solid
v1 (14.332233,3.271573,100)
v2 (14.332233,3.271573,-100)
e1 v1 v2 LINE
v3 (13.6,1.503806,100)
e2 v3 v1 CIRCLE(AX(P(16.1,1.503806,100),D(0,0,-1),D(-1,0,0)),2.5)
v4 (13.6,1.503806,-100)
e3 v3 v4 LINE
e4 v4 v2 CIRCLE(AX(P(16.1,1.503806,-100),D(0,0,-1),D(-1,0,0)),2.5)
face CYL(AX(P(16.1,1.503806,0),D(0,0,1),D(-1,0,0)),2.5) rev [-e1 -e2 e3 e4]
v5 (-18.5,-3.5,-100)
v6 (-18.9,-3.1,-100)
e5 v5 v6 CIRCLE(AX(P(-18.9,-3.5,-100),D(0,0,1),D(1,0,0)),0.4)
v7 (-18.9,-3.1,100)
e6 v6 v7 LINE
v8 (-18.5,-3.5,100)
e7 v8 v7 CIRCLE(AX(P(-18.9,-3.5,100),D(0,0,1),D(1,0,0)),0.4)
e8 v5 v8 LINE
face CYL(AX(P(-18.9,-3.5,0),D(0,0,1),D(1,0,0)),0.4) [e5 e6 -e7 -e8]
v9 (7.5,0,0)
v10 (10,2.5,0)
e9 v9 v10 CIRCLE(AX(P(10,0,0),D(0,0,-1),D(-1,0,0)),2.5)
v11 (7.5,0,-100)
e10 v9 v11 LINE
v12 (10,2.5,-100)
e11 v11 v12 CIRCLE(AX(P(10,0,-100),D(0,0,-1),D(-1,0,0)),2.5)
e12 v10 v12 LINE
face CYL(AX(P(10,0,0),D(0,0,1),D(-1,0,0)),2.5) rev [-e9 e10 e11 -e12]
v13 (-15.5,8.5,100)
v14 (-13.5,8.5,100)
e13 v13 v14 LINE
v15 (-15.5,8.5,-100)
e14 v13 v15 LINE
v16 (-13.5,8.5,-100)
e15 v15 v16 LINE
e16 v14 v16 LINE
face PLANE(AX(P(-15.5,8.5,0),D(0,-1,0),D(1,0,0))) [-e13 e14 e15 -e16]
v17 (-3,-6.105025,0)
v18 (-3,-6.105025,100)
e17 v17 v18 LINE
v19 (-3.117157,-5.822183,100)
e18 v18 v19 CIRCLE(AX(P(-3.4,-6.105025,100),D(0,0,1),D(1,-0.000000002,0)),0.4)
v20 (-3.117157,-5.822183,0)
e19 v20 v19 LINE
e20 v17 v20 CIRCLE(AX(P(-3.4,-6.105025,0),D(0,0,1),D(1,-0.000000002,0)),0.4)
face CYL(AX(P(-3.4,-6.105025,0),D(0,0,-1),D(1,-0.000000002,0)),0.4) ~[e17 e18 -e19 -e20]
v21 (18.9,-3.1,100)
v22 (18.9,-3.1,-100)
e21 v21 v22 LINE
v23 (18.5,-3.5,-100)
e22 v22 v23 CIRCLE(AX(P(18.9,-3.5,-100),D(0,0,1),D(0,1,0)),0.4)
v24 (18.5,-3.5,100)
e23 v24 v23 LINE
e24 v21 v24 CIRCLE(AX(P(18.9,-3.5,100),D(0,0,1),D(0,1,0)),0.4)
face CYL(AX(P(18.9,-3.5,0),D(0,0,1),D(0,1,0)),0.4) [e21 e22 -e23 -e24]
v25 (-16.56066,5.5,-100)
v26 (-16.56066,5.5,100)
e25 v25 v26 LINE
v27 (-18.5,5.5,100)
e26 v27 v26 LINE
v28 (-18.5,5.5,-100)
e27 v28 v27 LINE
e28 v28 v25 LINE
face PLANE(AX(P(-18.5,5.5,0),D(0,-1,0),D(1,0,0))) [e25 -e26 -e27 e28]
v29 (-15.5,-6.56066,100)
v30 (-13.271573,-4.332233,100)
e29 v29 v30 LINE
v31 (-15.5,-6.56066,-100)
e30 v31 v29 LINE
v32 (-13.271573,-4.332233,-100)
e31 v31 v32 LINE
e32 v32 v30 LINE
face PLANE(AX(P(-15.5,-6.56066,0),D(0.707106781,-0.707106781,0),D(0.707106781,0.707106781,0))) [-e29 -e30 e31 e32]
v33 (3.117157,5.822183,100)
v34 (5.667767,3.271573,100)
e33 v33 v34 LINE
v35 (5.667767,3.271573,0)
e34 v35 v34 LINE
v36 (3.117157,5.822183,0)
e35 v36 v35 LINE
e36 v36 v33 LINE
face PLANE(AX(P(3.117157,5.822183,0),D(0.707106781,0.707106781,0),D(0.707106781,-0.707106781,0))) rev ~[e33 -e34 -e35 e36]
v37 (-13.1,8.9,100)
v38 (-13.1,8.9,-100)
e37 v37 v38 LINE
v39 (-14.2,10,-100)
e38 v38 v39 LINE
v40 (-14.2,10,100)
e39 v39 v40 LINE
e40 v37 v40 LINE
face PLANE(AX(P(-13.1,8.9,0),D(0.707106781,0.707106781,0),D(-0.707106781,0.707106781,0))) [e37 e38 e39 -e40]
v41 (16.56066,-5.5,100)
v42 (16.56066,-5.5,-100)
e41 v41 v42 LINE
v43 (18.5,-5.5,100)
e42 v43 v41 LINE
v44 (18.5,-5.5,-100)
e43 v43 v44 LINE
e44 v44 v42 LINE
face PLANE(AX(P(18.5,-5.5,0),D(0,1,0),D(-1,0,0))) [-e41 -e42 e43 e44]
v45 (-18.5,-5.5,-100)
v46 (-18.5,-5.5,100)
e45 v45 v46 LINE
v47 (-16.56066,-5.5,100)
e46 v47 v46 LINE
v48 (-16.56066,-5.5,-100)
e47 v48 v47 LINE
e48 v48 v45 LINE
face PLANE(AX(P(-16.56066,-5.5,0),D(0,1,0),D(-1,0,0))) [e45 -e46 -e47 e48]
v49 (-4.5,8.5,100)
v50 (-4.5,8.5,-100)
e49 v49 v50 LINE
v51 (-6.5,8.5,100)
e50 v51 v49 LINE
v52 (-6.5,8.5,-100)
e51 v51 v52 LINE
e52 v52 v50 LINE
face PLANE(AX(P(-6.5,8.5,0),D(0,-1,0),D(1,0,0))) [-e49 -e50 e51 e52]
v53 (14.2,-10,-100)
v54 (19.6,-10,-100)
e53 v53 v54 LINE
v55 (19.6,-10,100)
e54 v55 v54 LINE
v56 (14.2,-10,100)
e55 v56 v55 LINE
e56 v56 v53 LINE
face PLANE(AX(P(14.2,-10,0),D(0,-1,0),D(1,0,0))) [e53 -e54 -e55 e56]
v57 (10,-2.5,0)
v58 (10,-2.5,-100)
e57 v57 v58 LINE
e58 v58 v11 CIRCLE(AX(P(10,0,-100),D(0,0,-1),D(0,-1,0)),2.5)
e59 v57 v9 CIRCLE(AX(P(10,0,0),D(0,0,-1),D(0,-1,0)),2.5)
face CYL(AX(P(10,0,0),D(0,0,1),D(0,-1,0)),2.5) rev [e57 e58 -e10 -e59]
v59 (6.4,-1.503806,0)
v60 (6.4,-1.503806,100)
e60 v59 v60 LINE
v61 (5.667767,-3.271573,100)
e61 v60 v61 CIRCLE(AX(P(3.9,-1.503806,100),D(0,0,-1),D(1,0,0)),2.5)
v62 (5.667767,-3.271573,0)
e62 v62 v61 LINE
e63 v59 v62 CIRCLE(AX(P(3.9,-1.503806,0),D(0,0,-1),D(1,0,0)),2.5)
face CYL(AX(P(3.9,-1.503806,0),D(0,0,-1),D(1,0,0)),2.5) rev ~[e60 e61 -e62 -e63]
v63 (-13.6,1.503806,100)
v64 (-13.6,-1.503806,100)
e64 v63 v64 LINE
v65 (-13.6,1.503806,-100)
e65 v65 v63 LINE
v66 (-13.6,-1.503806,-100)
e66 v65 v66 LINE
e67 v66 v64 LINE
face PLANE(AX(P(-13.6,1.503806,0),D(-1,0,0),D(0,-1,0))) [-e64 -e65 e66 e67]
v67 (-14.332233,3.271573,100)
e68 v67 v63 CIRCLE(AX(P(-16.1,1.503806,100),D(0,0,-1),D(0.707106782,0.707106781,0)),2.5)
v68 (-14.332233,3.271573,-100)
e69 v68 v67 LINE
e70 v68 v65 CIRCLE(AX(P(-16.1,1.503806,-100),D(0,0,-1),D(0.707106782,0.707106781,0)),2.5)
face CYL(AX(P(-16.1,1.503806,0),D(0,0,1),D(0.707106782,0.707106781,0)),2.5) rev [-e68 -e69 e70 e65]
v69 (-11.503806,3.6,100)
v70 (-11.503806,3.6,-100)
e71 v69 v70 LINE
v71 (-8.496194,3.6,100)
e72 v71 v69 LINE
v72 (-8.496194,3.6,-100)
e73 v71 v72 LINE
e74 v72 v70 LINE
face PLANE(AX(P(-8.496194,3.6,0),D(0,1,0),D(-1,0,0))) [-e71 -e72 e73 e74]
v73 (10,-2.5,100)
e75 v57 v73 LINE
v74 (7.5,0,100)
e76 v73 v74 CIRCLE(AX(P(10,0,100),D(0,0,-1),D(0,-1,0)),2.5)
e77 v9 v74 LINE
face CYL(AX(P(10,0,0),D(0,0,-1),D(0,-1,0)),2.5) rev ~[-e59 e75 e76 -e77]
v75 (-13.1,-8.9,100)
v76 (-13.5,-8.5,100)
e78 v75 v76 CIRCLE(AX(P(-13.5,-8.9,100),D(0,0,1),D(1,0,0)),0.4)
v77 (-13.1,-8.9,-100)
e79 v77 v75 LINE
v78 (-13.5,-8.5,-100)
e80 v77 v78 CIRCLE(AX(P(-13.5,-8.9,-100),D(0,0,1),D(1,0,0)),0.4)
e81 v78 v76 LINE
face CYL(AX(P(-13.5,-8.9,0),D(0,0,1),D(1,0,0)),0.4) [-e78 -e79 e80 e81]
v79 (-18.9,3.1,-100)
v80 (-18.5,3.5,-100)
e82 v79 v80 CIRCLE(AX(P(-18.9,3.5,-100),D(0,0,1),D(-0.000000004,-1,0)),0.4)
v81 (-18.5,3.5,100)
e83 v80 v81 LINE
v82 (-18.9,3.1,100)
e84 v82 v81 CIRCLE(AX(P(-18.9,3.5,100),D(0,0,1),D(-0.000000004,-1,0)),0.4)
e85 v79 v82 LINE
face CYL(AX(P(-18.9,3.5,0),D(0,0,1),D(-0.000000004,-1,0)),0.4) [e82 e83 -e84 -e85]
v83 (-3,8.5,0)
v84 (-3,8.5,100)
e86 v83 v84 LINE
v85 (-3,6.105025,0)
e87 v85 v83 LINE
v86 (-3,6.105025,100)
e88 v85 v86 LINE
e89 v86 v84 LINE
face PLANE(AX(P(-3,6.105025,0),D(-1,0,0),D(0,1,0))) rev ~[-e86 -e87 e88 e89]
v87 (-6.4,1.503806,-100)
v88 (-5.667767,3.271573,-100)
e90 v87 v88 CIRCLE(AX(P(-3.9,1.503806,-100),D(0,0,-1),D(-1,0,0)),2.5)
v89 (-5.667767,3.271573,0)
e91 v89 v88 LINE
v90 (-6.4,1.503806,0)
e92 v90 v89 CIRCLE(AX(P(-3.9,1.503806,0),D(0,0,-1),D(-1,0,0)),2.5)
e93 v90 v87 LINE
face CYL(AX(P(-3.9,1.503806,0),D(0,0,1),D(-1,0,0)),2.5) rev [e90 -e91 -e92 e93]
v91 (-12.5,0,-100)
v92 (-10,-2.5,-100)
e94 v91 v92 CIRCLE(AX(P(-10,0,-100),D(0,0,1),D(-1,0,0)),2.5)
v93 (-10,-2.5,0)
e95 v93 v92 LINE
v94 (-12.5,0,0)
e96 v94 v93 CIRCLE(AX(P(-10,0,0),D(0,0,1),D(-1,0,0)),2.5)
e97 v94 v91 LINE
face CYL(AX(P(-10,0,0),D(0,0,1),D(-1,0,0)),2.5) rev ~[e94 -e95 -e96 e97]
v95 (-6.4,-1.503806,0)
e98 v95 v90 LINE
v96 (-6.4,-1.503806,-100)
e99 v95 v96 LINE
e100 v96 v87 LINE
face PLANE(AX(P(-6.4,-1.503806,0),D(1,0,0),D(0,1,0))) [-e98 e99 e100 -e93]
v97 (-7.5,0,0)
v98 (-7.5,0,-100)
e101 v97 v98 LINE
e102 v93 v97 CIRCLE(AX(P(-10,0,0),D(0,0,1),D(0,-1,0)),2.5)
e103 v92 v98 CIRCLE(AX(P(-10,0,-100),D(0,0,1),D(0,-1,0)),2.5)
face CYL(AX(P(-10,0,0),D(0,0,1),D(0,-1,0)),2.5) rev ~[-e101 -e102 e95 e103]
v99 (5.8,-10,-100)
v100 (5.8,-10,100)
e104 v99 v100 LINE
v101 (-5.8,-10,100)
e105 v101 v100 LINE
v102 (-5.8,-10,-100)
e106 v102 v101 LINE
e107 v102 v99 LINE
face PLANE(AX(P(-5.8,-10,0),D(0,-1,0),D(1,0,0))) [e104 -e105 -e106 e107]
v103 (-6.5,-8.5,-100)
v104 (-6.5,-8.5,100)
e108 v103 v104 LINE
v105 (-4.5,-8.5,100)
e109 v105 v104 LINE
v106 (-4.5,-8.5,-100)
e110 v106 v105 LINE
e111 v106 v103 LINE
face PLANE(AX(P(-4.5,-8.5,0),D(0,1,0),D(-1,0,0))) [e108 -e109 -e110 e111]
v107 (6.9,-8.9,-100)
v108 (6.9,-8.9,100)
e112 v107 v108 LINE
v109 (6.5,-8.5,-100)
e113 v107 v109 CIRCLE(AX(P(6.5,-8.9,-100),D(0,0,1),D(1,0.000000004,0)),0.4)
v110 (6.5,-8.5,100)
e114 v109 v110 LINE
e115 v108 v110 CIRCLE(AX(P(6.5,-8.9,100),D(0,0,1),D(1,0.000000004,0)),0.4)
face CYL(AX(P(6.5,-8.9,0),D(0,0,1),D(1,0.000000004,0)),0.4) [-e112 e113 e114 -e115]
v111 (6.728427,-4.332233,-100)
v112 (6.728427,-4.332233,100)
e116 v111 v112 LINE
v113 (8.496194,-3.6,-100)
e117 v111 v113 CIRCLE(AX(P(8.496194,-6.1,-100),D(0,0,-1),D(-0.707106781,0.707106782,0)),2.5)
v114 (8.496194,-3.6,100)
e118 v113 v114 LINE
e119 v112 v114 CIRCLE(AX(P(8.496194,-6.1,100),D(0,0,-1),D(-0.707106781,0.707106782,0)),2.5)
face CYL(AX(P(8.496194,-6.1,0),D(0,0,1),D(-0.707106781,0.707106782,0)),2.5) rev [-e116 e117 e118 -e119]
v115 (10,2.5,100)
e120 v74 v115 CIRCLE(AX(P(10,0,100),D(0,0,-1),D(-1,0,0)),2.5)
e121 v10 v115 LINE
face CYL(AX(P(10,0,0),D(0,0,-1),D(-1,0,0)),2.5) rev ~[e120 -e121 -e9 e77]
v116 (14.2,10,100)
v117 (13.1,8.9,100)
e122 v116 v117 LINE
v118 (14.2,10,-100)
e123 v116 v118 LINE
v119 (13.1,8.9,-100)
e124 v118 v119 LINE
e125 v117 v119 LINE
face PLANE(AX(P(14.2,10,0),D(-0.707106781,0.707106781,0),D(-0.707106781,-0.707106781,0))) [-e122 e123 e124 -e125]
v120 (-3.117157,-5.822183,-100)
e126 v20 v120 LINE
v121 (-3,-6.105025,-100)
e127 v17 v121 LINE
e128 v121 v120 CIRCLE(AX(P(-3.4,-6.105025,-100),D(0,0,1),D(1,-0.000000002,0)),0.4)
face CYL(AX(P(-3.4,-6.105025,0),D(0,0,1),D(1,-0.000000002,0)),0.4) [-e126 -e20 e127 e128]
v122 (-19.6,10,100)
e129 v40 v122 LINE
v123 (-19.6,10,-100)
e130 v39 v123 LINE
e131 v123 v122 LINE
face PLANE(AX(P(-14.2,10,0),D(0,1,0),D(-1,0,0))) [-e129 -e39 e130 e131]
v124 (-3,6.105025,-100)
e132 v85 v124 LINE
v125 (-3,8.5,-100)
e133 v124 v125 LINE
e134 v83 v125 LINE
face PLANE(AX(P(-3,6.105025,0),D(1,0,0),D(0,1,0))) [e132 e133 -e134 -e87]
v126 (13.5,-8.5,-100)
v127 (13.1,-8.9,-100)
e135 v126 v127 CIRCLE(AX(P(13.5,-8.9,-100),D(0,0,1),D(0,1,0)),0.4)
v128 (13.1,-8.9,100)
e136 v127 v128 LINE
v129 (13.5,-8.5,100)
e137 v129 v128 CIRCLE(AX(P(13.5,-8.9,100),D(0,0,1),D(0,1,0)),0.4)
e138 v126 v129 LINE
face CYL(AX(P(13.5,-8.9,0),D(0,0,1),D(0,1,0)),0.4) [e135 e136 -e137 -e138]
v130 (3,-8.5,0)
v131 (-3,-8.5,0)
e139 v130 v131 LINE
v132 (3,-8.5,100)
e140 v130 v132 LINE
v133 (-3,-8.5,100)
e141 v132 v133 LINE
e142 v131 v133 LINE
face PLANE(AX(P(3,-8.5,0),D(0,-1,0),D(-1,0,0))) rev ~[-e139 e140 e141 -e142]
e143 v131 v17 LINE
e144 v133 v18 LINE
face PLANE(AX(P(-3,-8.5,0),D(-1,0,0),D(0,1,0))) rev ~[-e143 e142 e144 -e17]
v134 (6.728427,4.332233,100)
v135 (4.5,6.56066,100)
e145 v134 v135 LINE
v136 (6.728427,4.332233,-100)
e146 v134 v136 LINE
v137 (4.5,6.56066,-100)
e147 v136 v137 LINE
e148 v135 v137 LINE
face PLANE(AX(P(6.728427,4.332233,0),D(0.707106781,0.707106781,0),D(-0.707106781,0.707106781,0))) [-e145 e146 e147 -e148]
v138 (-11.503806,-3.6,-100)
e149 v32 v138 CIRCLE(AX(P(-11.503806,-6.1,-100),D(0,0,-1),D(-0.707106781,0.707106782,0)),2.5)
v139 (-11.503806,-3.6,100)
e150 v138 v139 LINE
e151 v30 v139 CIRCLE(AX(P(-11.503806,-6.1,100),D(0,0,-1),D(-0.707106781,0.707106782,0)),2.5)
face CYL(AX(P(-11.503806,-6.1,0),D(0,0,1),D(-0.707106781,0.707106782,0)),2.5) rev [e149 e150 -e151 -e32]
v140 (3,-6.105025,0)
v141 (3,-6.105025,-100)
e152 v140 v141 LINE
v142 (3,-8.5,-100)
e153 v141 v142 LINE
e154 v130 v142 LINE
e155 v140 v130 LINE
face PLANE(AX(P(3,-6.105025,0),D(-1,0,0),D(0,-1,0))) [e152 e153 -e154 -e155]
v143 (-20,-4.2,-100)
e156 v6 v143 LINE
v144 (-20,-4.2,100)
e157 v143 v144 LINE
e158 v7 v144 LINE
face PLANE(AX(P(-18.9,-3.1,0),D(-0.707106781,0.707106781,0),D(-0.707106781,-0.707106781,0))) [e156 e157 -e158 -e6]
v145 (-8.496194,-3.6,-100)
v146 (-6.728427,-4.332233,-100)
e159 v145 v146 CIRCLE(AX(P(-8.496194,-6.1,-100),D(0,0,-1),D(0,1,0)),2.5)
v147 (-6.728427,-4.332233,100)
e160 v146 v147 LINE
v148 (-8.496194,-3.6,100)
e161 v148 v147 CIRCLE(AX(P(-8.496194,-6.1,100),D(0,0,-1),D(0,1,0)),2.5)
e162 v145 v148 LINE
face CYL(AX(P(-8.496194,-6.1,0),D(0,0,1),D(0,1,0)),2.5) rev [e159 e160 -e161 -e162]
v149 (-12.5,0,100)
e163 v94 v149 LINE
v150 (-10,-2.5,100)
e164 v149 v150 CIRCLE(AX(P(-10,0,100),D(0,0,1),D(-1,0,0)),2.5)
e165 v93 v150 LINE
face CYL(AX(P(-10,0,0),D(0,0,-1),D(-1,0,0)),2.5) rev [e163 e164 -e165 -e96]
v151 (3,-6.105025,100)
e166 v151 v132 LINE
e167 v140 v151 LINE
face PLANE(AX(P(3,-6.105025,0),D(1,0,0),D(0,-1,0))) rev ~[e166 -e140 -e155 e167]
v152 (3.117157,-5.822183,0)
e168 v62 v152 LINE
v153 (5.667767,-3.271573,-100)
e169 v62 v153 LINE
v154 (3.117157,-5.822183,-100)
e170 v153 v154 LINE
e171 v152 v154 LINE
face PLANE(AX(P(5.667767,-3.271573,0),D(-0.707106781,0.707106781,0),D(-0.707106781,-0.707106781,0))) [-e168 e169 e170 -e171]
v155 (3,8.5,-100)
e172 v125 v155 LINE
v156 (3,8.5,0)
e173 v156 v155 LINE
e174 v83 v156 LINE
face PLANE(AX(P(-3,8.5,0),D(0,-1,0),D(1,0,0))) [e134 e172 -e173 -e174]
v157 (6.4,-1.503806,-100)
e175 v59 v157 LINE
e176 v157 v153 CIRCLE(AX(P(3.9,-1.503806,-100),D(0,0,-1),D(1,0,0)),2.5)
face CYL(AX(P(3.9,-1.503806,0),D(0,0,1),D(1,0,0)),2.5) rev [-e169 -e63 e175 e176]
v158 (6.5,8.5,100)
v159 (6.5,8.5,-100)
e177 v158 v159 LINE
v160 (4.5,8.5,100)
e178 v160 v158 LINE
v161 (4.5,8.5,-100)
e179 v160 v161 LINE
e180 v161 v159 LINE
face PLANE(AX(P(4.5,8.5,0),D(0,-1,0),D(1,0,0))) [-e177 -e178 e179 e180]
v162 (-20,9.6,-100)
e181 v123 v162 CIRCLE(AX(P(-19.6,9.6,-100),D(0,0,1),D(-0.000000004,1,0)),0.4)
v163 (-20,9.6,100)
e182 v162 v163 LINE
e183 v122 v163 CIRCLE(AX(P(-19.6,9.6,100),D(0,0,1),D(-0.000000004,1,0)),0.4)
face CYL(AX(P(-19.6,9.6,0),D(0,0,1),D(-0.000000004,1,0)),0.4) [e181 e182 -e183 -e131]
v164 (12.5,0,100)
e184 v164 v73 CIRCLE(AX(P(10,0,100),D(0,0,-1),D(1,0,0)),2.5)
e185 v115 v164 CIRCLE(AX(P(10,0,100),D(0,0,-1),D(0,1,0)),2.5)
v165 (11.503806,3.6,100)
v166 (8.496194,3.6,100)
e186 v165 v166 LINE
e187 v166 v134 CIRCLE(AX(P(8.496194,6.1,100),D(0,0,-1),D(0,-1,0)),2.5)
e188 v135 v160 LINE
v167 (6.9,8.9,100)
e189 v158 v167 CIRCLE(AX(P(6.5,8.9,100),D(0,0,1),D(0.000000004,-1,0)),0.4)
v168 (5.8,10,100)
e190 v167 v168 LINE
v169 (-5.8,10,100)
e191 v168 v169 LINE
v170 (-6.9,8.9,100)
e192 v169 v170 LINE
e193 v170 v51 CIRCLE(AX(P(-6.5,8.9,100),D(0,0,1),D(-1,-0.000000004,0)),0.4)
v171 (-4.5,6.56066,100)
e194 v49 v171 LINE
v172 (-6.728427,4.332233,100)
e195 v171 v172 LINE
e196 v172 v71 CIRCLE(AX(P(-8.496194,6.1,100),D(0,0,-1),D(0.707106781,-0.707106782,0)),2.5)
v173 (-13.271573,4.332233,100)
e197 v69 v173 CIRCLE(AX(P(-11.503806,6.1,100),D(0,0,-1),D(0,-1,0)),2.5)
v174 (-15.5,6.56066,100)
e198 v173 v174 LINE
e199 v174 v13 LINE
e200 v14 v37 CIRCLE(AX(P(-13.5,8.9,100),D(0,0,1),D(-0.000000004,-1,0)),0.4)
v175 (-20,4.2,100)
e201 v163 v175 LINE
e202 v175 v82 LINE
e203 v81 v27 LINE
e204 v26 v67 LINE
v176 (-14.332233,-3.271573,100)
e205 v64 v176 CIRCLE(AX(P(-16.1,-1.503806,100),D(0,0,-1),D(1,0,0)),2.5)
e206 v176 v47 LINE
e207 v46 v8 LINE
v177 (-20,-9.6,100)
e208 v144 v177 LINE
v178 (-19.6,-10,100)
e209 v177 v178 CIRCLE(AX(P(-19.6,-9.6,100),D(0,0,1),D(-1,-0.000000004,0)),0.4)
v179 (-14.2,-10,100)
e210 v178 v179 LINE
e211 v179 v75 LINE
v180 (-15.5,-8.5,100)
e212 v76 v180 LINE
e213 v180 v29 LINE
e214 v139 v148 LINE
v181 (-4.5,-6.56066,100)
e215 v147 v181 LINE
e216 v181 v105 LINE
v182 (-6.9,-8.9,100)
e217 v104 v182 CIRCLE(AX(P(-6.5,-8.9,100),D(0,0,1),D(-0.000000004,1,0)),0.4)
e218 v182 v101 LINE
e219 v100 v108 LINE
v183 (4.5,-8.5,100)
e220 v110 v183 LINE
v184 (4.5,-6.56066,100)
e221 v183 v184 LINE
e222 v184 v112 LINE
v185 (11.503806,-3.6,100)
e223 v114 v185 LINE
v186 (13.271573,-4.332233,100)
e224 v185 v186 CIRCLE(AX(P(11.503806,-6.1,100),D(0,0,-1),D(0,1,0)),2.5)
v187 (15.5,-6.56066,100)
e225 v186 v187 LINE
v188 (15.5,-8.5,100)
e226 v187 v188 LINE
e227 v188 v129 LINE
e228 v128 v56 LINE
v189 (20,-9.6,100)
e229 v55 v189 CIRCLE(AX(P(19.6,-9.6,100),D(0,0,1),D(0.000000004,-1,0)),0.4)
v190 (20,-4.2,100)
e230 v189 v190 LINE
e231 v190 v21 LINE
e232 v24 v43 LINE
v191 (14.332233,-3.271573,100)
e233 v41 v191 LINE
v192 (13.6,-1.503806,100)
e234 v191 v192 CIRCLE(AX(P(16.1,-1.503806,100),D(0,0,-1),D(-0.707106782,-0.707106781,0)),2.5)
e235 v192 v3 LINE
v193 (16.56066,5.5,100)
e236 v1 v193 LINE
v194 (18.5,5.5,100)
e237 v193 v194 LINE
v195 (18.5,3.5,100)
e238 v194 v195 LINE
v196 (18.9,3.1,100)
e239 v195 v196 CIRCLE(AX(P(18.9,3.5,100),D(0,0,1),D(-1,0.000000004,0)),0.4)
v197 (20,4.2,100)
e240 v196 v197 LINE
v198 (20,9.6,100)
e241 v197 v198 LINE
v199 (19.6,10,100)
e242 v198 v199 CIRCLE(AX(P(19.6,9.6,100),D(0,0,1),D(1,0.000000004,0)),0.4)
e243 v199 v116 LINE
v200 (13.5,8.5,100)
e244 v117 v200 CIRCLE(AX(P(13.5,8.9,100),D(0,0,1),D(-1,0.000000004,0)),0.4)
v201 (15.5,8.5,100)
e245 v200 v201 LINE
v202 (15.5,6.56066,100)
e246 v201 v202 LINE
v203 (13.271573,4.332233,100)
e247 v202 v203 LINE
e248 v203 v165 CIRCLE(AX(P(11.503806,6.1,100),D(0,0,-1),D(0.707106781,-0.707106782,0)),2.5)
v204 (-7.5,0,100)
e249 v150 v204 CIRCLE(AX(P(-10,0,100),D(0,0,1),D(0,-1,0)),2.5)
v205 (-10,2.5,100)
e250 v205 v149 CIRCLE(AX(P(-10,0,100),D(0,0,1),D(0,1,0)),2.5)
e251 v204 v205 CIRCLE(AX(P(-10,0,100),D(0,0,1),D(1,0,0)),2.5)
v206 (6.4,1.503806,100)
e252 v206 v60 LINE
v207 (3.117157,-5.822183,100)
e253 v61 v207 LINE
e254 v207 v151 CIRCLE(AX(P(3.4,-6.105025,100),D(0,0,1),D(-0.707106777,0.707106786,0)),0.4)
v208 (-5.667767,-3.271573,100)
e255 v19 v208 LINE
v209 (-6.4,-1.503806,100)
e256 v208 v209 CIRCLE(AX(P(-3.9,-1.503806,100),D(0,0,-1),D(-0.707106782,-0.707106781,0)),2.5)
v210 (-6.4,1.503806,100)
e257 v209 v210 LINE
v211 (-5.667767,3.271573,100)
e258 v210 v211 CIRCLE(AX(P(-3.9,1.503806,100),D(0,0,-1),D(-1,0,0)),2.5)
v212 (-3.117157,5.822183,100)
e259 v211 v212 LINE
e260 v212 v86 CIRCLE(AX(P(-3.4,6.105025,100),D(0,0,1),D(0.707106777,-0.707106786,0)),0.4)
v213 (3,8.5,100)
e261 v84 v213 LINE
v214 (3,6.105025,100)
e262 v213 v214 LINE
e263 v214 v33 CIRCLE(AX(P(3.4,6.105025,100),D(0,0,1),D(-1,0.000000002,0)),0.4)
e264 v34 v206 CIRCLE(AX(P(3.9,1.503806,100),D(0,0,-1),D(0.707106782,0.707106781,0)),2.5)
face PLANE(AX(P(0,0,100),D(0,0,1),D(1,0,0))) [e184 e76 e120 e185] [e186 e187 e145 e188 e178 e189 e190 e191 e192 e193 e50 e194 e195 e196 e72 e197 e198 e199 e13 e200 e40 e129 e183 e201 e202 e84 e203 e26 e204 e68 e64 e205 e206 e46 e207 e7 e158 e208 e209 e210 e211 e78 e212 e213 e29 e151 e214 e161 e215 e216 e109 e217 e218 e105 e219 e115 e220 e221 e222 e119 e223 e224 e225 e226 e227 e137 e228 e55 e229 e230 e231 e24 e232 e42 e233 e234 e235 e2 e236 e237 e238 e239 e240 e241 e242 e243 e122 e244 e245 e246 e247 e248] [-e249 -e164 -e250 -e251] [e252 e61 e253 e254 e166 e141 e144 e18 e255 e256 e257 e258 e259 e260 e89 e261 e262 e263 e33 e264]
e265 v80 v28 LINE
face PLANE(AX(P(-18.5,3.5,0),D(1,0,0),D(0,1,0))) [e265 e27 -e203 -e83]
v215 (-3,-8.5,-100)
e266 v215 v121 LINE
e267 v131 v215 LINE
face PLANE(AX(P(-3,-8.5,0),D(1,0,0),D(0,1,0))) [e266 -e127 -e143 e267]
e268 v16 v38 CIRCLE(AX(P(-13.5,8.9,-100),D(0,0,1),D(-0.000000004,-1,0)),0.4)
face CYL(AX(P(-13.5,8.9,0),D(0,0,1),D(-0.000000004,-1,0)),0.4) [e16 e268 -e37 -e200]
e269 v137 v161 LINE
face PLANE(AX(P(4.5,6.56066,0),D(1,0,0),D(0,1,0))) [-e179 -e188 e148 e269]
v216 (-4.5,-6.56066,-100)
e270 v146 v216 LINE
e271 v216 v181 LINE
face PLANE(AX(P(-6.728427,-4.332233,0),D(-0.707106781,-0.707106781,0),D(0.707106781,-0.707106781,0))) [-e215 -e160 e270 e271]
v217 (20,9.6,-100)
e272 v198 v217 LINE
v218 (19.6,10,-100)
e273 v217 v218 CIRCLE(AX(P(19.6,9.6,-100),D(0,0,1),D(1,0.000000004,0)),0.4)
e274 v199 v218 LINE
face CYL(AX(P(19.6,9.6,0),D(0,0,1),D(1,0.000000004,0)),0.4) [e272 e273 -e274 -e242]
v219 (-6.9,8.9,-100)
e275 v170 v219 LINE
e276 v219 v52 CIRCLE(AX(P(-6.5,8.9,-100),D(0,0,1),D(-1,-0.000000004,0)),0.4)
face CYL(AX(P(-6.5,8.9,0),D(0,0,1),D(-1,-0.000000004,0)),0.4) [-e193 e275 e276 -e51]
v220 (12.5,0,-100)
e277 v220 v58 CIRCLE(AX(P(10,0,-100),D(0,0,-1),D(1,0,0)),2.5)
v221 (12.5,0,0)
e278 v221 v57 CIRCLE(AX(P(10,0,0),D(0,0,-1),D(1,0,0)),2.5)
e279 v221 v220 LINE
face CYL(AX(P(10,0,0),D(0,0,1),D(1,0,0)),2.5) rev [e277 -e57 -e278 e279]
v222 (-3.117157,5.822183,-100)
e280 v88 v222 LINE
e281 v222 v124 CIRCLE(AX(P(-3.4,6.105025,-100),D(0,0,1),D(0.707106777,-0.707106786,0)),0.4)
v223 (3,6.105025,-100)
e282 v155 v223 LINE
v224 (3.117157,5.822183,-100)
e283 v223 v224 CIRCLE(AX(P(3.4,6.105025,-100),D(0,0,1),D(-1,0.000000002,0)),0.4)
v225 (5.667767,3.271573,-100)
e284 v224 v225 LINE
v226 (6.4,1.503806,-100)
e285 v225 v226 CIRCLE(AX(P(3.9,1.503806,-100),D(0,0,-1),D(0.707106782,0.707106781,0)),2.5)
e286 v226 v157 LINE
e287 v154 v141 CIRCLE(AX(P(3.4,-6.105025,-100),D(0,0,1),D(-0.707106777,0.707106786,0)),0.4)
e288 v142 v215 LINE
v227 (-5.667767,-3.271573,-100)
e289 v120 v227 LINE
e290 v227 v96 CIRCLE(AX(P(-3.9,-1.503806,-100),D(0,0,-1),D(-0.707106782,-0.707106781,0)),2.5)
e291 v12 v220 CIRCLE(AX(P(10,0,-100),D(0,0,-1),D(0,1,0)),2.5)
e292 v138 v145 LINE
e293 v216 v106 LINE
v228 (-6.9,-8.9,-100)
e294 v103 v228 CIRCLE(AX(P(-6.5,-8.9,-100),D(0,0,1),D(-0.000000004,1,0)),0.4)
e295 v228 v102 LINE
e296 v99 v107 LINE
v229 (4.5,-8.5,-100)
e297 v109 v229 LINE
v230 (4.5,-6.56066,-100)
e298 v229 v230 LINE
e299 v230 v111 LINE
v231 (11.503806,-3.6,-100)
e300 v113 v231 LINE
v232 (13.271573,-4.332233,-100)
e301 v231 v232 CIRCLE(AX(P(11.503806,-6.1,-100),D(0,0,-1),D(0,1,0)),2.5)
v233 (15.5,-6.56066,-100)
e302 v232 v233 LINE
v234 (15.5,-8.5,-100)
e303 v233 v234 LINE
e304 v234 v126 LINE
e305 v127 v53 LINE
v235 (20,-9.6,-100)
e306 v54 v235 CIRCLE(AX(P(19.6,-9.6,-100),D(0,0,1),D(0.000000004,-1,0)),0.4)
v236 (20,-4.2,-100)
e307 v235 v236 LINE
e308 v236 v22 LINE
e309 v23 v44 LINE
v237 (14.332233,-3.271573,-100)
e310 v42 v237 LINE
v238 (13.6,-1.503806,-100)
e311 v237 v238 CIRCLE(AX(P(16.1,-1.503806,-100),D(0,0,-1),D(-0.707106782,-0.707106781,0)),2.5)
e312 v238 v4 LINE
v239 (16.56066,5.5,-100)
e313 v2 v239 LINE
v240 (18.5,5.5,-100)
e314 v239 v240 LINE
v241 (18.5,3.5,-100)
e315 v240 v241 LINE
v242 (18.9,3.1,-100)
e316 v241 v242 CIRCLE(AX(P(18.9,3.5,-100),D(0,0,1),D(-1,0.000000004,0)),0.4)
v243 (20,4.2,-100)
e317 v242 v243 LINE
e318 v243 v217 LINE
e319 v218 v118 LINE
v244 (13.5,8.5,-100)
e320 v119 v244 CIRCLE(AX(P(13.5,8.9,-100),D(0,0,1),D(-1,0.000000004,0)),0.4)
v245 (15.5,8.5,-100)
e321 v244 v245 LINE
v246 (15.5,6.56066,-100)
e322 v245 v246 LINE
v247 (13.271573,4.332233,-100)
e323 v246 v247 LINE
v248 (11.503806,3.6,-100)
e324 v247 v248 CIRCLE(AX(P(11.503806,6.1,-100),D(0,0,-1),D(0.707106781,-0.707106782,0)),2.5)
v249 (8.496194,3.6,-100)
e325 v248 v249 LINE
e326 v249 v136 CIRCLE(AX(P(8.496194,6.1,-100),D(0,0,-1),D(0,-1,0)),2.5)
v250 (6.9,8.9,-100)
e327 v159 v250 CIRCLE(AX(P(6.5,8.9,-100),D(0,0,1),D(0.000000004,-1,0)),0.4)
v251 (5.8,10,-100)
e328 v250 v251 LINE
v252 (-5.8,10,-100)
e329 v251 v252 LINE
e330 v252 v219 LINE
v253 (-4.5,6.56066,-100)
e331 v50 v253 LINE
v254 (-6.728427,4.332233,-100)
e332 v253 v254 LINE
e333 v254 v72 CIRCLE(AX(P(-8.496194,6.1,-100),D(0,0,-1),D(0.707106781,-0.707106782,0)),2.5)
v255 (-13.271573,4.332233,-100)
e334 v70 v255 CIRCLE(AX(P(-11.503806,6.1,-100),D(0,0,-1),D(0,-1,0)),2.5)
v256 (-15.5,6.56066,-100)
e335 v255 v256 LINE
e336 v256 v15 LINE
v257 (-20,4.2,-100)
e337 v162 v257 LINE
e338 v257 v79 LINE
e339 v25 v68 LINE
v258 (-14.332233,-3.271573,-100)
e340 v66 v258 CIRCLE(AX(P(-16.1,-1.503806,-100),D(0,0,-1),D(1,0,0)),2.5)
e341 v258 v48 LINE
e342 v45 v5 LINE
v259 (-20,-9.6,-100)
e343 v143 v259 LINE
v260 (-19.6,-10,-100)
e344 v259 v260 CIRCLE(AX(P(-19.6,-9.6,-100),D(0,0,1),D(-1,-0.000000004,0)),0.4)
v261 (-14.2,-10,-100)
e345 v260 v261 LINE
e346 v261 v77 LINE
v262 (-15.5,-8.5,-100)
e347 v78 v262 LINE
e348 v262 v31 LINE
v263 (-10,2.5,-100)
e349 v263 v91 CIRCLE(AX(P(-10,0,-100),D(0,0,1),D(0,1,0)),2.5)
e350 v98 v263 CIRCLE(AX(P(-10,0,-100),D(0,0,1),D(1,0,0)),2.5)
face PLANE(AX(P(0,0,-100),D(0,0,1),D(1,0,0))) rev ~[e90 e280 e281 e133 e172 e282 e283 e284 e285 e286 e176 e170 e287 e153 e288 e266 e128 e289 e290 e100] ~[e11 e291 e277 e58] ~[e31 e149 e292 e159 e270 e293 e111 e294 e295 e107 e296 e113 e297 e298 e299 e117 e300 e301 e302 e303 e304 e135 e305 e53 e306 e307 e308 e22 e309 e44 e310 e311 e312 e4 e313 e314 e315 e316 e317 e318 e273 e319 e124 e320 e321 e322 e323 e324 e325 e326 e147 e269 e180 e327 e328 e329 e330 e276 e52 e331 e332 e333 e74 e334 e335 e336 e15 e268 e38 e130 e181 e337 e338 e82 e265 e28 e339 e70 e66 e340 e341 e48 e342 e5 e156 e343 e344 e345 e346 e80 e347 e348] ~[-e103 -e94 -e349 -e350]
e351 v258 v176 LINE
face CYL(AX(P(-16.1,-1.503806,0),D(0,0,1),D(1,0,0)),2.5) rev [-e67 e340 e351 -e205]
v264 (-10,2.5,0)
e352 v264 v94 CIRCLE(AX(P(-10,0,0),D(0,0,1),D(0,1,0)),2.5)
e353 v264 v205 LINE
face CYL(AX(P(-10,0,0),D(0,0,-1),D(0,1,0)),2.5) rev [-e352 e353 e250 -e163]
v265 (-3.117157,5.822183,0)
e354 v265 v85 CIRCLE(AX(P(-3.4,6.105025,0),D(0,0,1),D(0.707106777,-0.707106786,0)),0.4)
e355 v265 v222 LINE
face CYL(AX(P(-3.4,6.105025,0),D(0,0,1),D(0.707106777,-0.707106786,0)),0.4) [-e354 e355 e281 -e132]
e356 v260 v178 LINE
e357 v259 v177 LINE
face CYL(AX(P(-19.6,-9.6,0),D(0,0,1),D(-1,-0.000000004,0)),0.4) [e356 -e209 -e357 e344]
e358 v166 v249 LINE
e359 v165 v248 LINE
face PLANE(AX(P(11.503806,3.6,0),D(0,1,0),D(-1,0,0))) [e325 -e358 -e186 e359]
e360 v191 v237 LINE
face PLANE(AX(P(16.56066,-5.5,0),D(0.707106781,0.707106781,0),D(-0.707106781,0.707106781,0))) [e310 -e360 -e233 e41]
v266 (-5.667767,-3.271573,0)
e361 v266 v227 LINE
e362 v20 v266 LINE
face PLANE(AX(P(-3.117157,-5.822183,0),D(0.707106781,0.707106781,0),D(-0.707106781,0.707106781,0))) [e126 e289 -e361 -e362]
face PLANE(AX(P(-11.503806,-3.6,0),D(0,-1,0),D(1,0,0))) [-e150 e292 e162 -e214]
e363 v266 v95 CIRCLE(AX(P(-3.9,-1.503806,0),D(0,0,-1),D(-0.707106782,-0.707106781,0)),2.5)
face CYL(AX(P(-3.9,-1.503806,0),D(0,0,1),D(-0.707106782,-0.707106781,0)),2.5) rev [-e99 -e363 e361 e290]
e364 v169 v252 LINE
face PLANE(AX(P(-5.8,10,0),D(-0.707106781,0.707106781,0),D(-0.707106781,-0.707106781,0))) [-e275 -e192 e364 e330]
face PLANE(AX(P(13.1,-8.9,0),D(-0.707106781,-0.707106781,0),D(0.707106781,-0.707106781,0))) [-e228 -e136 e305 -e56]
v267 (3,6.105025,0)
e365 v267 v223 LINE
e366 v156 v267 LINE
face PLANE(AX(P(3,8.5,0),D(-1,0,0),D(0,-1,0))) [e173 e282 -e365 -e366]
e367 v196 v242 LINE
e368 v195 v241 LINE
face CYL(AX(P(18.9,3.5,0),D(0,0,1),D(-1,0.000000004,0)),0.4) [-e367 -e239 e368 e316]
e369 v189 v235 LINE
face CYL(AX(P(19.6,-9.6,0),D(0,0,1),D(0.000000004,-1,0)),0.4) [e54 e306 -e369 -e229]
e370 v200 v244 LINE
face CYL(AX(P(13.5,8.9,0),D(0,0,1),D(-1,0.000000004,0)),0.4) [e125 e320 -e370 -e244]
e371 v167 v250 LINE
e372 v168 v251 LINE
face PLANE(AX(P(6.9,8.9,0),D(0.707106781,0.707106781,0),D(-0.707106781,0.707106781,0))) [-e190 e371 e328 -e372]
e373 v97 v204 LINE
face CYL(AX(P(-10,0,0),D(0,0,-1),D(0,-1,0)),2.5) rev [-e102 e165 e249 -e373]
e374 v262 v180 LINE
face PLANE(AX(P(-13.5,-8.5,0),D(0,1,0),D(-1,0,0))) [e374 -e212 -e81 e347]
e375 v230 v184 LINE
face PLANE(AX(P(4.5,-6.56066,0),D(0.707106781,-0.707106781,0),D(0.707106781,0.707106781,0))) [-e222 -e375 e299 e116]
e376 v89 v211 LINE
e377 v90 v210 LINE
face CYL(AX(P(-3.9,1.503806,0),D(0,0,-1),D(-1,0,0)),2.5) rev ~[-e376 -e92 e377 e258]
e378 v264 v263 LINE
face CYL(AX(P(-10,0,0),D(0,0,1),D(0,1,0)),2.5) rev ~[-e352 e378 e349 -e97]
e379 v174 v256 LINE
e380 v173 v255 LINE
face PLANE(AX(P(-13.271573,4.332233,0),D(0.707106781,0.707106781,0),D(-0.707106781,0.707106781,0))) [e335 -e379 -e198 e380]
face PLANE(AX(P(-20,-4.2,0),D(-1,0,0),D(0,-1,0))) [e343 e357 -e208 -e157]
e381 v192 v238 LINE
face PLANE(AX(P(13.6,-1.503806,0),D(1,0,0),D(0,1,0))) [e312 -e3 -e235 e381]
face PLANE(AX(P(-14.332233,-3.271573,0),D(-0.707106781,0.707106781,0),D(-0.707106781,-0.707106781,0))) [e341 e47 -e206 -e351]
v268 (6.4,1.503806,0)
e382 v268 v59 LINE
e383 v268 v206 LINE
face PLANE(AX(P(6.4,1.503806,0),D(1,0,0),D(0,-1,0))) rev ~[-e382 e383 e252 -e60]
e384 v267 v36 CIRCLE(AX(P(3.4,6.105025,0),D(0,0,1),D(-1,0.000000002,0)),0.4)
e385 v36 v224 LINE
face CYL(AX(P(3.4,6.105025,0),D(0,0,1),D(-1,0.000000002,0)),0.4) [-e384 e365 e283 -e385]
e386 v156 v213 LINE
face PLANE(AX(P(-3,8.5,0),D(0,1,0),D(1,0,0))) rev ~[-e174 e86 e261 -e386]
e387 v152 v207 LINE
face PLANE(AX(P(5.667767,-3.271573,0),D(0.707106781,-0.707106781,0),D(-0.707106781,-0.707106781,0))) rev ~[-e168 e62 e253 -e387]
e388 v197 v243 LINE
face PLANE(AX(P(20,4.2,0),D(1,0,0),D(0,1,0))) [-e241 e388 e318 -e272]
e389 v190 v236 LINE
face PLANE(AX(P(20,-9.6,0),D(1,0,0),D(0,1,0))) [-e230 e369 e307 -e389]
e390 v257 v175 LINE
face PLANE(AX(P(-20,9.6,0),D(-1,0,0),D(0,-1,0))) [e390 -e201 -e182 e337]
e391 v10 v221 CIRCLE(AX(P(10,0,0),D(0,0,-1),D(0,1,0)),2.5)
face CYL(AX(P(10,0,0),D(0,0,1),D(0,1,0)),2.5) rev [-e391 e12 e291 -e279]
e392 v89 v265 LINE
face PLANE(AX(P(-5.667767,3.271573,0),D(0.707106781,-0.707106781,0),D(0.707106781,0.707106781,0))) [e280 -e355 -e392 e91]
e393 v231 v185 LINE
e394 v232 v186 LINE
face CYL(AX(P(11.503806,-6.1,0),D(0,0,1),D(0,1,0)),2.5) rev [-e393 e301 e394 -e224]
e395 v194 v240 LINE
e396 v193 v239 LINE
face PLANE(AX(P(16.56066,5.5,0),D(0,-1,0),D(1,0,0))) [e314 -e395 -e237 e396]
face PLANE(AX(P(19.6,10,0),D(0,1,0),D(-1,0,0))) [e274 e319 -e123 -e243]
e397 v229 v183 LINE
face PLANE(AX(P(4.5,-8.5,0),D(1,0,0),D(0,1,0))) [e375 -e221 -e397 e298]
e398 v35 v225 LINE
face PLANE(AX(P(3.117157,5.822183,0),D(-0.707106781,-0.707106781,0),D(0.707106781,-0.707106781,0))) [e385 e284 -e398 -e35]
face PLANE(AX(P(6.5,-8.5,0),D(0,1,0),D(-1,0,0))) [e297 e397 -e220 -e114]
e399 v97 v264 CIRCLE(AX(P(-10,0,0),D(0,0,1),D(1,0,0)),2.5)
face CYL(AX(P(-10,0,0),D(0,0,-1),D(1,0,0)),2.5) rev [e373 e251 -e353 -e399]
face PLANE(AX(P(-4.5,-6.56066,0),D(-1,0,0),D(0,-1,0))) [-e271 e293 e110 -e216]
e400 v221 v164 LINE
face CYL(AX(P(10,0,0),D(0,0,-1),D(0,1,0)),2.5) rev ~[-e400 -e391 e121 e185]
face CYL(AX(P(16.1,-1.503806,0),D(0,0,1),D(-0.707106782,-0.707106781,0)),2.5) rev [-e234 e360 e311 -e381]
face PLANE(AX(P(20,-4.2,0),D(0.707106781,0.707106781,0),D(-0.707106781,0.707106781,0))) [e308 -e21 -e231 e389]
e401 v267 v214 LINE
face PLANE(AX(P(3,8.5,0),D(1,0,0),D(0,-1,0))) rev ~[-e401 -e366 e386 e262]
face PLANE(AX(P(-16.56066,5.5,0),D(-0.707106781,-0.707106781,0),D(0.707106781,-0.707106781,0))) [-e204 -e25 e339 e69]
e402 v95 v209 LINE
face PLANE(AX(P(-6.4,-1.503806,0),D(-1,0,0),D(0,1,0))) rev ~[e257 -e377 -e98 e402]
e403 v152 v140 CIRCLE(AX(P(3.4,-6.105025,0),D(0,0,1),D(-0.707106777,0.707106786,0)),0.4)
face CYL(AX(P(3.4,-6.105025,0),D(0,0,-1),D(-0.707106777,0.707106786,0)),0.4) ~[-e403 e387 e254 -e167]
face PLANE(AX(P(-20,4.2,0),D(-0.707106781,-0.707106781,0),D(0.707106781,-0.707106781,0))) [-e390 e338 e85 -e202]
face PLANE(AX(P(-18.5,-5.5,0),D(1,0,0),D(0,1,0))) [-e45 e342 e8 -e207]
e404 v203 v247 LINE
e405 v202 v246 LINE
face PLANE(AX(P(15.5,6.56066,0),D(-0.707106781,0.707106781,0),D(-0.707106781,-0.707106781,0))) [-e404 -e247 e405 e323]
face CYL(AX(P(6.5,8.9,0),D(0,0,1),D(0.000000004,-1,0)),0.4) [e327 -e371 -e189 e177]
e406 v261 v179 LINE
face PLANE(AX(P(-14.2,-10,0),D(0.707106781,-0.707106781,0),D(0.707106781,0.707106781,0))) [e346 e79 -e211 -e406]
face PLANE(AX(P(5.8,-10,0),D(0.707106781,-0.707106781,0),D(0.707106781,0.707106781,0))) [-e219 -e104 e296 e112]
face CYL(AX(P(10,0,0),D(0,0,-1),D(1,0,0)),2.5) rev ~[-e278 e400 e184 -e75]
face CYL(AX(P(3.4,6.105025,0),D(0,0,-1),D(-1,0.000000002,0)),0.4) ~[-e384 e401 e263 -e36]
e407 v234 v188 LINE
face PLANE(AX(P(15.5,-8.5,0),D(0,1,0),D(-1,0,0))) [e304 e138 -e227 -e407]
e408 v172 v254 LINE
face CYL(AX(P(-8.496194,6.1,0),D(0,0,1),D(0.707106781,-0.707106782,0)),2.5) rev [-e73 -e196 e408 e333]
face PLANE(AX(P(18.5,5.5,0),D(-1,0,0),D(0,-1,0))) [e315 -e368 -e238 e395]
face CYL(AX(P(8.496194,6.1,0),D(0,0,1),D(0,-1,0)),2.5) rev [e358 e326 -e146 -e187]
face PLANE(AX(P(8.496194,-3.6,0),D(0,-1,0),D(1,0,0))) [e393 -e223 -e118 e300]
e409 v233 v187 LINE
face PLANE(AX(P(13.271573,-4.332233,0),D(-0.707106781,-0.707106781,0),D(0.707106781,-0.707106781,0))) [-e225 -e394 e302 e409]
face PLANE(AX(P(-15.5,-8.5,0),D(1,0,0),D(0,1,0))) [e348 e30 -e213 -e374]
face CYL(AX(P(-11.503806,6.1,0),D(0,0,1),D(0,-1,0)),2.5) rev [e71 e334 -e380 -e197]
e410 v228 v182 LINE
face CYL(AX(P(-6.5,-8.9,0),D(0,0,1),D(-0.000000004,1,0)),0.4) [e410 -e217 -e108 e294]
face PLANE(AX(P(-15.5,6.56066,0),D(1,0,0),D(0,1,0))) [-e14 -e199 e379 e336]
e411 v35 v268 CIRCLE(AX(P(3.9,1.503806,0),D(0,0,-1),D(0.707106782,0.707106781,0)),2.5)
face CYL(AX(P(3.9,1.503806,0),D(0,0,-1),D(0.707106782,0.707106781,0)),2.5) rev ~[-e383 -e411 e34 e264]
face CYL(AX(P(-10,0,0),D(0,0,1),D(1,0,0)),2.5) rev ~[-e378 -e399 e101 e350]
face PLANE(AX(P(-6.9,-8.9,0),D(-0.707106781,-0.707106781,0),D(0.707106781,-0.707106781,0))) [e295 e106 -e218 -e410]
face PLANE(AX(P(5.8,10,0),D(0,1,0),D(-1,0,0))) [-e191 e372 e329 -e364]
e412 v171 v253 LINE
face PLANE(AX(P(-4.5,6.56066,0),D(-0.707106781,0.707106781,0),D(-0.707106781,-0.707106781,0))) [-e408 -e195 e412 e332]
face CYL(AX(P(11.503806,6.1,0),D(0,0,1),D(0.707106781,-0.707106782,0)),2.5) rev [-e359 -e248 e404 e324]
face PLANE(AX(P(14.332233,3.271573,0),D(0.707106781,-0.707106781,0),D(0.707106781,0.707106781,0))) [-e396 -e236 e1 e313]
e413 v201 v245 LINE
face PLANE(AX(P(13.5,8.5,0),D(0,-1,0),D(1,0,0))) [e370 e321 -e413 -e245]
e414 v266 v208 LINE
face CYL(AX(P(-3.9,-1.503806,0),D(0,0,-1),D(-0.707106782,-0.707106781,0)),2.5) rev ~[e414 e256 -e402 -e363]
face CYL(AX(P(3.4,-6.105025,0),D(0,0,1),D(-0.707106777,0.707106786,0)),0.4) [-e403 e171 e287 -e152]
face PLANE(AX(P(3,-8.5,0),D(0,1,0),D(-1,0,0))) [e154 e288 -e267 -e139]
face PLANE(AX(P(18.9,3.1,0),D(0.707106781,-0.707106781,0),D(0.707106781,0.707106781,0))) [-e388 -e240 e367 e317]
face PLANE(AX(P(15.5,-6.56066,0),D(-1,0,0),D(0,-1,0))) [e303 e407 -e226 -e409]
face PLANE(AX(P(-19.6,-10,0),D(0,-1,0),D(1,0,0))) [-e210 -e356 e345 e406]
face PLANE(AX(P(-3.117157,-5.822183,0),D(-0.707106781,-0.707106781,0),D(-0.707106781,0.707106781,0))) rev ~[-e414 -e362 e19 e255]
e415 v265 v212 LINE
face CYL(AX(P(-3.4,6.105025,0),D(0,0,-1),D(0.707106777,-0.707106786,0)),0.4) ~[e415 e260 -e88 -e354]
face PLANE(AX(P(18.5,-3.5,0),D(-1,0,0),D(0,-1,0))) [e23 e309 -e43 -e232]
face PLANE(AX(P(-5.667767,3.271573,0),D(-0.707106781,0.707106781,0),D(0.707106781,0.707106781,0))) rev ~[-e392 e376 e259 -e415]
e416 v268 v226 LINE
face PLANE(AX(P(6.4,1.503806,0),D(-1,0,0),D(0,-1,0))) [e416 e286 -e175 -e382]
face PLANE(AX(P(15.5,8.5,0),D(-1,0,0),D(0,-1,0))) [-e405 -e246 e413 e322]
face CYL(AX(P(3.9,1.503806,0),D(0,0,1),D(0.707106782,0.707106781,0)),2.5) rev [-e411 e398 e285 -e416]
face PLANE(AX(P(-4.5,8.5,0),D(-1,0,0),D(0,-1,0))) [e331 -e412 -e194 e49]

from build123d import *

# Parameters (mm, degrees)
RESSALTO_EXTRUS_O1_DEPTH = 100


with BuildPart() as part:
    # Esboço1 → Ressalto-extrusão1 (new body, symmetric)
    with BuildSketch(Plane.XY):
        with BuildLine():
            Line((-13.1, 8.9), (-14.2, 10))
            Line((-14.2, 10), (-19.6, 10))
            ThreePointArc((-19.6, 10), (-19.882842712, 9.882842712), (-20, 9.6))
            Line((-20, 9.6), (-20, 4.2))
            Line((-20, 4.2), (-18.9, 3.1))
            ThreePointArc((-18.9, 3.1), (-18.617157287, 3.217157287), (-18.5, 3.5))
            Line((-18.5, 3.5), (-18.5, 5.5))
            Line((-18.5, 5.5), (-16.560660172, 5.5))
            Line((-16.560660172, 5.5), (-14.332233047, 3.271572875))
            ThreePointArc((-14.332233047, 3.271572875), (-13.790301169, 2.460514503), (-13.6, 1.503805922))
            Line((-13.6, 1.503805922), (-13.6, 0))
            Line((-13.6, 0), (-13.6, -1.503805922))
            ThreePointArc((-13.6, -1.503805922), (-13.790301169, -2.460514503), (-14.332233047, -3.271572875))
            Line((-14.332233047, -3.271572875), (-16.560660172, -5.5))
            Line((-16.560660172, -5.5), (-18.5, -5.5))
            Line((-18.5, -5.5), (-18.5, -3.5))
            ThreePointArc((-18.5, -3.5), (-18.617157287, -3.217157288), (-18.9, -3.1))
            Line((-18.9, -3.1), (-20, -4.2))
            Line((-20, -4.2), (-20, -9.6))
            ThreePointArc((-20, -9.6), (-19.882842712, -9.882842712), (-19.6, -10))
            Line((-19.6, -10), (-14.2, -10))
            Line((-14.2, -10), (-13.1, -8.9))
            ThreePointArc((-13.1, -8.9), (-13.217157287, -8.617157288), (-13.5, -8.5))
            Line((-13.5, -8.5), (-15.5, -8.5))
            Line((-15.5, -8.5), (-15.5, -6.560660172))
            Line((-15.5, -6.560660172), (-13.271572875, -4.332233047))
            ThreePointArc((-13.271572875, -4.332233047), (-12.460514503, -3.790301169), (-11.503805922, -3.6))
            Line((-11.503805922, -3.6), (-10, -3.6))
            Line((-10, -3.6), (-8.496194078, -3.6))
            ThreePointArc((-8.496194078, -3.6), (-7.539485497, -3.790301169), (-6.728427125, -4.332233047))
            Line((-6.728427125, -4.332233047), (-4.5, -6.560660172))
            Line((-4.5, -6.560660172), (-4.5, -8.5))
            Line((-4.5, -8.5), (-6.5, -8.5))
            ThreePointArc((-6.5, -8.5), (-6.782842712, -8.617157288), (-6.9, -8.9))
            Line((-6.9, -8.9), (-5.8, -10))
            Line((-5.8, -10), (5.8, -10))
            Line((5.8, -10), (6.9, -8.9))
            ThreePointArc((6.9, -8.9), (6.782842712, -8.617157288), (6.5, -8.5))
            Line((6.5, -8.5), (4.5, -8.5))
            Line((4.5, -8.5), (4.5, -6.560660172))
            Line((4.5, -6.560660172), (6.728427125, -4.332233047))
            ThreePointArc((6.728427125, -4.332233047), (7.539485497, -3.790301169), (8.496194078, -3.6))
            Line((8.496194078, -3.6), (10, -3.6))
            Line((10, -3.6), (11.503805922, -3.6))
            ThreePointArc((11.503805922, -3.6), (12.460514503, -3.790301169), (13.271572875, -4.332233047))
            Line((13.271572875, -4.332233047), (15.5, -6.560660172))
            Line((15.5, -6.560660172), (15.5, -8.5))
            Line((15.5, -8.5), (13.5, -8.5))
            ThreePointArc((13.5, -8.5), (13.217157287, -8.617157288), (13.1, -8.9))
            Line((13.1, -8.9), (14.2, -10))
            Line((14.2, -10), (19.6, -10))
            ThreePointArc((19.6, -10), (19.882842712, -9.882842712), (20, -9.6))
            Line((20, -9.6), (20, -4.2))
            Line((20, -4.2), (18.9, -3.1))
            ThreePointArc((18.9, -3.1), (18.617157287, -3.217157288), (18.5, -3.5))
            Line((18.5, -3.5), (18.5, -5.5))
            Line((18.5, -5.5), (16.560660172, -5.5))
            Line((16.560660172, -5.5), (14.332233047, -3.271572875))
            ThreePointArc((14.332233047, -3.271572875), (13.790301169, -2.460514503), (13.6, -1.503805922))
            Line((13.6, -1.503805922), (13.6, 0))
            Line((13.6, 0), (13.6, 1.503805922))
            ThreePointArc((13.6, 1.503805922), (13.790301169, 2.460514503), (14.332233047, 3.271572875))
            Line((14.332233047, 3.271572875), (16.560660172, 5.5))
            Line((16.560660172, 5.5), (18.5, 5.5))
            Line((18.5, 5.5), (18.5, 3.5))
            ThreePointArc((18.5, 3.5), (18.617157287, 3.217157287), (18.9, 3.1))
            Line((18.9, 3.1), (20, 4.2))
            Line((20, 4.2), (20, 9.6))
            ThreePointArc((20, 9.6), (19.882842712, 9.882842712), (19.6, 10))
            Line((19.6, 10), (14.2, 10))
            Line((14.2, 10), (13.1, 8.9))
            ThreePointArc((13.1, 8.9), (13.217157287, 8.617157287), (13.5, 8.5))
            Line((13.5, 8.5), (15.5, 8.5))
            Line((15.5, 8.5), (15.5, 6.560660172))
            Line((15.5, 6.560660172), (13.271572875, 4.332233047))
            ThreePointArc((13.271572875, 4.332233047), (12.460514503, 3.790301169), (11.503805922, 3.6))
            Line((11.503805922, 3.6), (10, 3.6))
            Line((10, 3.6), (8.496194078, 3.6))
            ThreePointArc((8.496194078, 3.6), (7.539485497, 3.790301169), (6.728427125, 4.332233047))
            Line((6.728427125, 4.332233047), (4.5, 6.560660172))
            Line((4.5, 6.560660172), (4.5, 8.5))
            Line((4.5, 8.5), (6.5, 8.5))
            ThreePointArc((6.5, 8.5), (6.782842712, 8.617157288), (6.9, 8.9))
            Line((6.9, 8.9), (5.8, 10))
            Line((5.8, 10), (-5.8, 10))
            Line((-5.8, 10), (-6.9, 8.9))
            ThreePointArc((-6.9, 8.9), (-6.782842712, 8.617157288), (-6.5, 8.5))
            Line((-6.5, 8.5), (-4.5, 8.5))
            Line((-4.5, 8.5), (-4.5, 6.560660172))
            Line((-4.5, 6.560660172), (-6.728427125, 4.332233047))
            ThreePointArc((-6.728427125, 4.332233047), (-7.539485497, 3.790301169), (-8.496194078, 3.6))
            Line((-8.496194078, 3.6), (-10, 3.6))
            Line((-10, 3.6), (-11.503805922, 3.6))
            ThreePointArc((-11.503805922, 3.6), (-12.460514503, 3.790301169), (-13.271572875, 4.332233047))
            Line((-13.271572875, 4.332233047), (-15.5, 6.560660172))
            Line((-15.5, 6.560660172), (-15.5, 8.5))
            Line((-15.5, 8.5), (-13.5, 8.5))
            ThreePointArc((-13.5, 8.5), (-13.217157287, 8.617157287), (-13.1, 8.9))
        make_face()
        with BuildLine():
            Line((-3, 8.5), (3, 8.5))
            Line((3, 8.5), (3, 6.105025253))
            ThreePointArc((3, 6.105025253), (3.030448187, 5.95195188), (3.117157288, 5.822182541))
            Line((3.117157288, 5.822182541), (5.667766953, 3.271572875))
            ThreePointArc((5.667766953, 3.271572875), (6.209698831, 2.460514503), (6.4, 1.503805922))
            Line((6.4, 1.503805922), (6.4, 0))
            Line((6.4, 0), (6.4, -1.503805922))
            ThreePointArc((6.4, -1.503805922), (6.209698831, -2.460514503), (5.667766953, -3.271572875))
            Line((5.667766953, -3.271572875), (3.117157288, -5.822182541))
            ThreePointArc((3.117157288, -5.822182541), (3.030448187, -5.95195188), (3, -6.105025253))
            Line((3, -6.105025253), (3, -8.5))
            Line((3, -8.5), (-3, -8.5))
            Line((-3, -8.5), (-3, -6.105025253))
            ThreePointArc((-3, -6.105025253), (-3.030448187, -5.95195188), (-3.117157288, -5.822182541))
            Line((-3.117157288, -5.822182541), (-5.667766953, -3.271572875))
            ThreePointArc((-5.667766953, -3.271572875), (-6.209698831, -2.460514503), (-6.4, -1.503805922))
            Line((-6.4, -1.503805922), (-6.4, 0))
            Line((-6.4, 0), (-6.4, 1.503805922))
            ThreePointArc((-6.4, 1.503805922), (-6.209698831, 2.460514503), (-5.667766953, 3.271572875))
            Line((-5.667766953, 3.271572875), (-3.117157288, 5.822182541))
            ThreePointArc((-3.117157288, 5.822182541), (-3.030448187, 5.95195188), (-3, 6.105025253))
            Line((-3, 6.105025253), (-3, 8.5))
        make_face(mode=Mode.SUBTRACT)
        with BuildLine():
            ThreePointArc((-10, 2.5), (-11.767766953, 1.767766953), (-12.5, 0))
            ThreePointArc((-12.5, 0), (-11.767766953, -1.767766953), (-10, -2.5))
            ThreePointArc((-10, -2.5), (-8.232233047, -1.767766953), (-7.5, 0))
            ThreePointArc((-7.5, 0), (-8.232233047, 1.767766953), (-10, 2.5))
        make_face(mode=Mode.SUBTRACT)
        with BuildLine():
            ThreePointArc((12.5, 0), (11.767766953, -1.767766953), (10, -2.5))
            ThreePointArc((10, -2.5), (8.232233047, -1.767766953), (7.5, 0))
            ThreePointArc((7.5, 0), (8.232233047, 1.767766953), (10, 2.5))
            ThreePointArc((10, 2.5), (11.767766953, 1.767766953), (12.5, 0))
        make_face(mode=Mode.SUBTRACT)
    extrude(amount=RESSALTO_EXTRUS_O1_DEPTH, both=True)


solid = part.part
